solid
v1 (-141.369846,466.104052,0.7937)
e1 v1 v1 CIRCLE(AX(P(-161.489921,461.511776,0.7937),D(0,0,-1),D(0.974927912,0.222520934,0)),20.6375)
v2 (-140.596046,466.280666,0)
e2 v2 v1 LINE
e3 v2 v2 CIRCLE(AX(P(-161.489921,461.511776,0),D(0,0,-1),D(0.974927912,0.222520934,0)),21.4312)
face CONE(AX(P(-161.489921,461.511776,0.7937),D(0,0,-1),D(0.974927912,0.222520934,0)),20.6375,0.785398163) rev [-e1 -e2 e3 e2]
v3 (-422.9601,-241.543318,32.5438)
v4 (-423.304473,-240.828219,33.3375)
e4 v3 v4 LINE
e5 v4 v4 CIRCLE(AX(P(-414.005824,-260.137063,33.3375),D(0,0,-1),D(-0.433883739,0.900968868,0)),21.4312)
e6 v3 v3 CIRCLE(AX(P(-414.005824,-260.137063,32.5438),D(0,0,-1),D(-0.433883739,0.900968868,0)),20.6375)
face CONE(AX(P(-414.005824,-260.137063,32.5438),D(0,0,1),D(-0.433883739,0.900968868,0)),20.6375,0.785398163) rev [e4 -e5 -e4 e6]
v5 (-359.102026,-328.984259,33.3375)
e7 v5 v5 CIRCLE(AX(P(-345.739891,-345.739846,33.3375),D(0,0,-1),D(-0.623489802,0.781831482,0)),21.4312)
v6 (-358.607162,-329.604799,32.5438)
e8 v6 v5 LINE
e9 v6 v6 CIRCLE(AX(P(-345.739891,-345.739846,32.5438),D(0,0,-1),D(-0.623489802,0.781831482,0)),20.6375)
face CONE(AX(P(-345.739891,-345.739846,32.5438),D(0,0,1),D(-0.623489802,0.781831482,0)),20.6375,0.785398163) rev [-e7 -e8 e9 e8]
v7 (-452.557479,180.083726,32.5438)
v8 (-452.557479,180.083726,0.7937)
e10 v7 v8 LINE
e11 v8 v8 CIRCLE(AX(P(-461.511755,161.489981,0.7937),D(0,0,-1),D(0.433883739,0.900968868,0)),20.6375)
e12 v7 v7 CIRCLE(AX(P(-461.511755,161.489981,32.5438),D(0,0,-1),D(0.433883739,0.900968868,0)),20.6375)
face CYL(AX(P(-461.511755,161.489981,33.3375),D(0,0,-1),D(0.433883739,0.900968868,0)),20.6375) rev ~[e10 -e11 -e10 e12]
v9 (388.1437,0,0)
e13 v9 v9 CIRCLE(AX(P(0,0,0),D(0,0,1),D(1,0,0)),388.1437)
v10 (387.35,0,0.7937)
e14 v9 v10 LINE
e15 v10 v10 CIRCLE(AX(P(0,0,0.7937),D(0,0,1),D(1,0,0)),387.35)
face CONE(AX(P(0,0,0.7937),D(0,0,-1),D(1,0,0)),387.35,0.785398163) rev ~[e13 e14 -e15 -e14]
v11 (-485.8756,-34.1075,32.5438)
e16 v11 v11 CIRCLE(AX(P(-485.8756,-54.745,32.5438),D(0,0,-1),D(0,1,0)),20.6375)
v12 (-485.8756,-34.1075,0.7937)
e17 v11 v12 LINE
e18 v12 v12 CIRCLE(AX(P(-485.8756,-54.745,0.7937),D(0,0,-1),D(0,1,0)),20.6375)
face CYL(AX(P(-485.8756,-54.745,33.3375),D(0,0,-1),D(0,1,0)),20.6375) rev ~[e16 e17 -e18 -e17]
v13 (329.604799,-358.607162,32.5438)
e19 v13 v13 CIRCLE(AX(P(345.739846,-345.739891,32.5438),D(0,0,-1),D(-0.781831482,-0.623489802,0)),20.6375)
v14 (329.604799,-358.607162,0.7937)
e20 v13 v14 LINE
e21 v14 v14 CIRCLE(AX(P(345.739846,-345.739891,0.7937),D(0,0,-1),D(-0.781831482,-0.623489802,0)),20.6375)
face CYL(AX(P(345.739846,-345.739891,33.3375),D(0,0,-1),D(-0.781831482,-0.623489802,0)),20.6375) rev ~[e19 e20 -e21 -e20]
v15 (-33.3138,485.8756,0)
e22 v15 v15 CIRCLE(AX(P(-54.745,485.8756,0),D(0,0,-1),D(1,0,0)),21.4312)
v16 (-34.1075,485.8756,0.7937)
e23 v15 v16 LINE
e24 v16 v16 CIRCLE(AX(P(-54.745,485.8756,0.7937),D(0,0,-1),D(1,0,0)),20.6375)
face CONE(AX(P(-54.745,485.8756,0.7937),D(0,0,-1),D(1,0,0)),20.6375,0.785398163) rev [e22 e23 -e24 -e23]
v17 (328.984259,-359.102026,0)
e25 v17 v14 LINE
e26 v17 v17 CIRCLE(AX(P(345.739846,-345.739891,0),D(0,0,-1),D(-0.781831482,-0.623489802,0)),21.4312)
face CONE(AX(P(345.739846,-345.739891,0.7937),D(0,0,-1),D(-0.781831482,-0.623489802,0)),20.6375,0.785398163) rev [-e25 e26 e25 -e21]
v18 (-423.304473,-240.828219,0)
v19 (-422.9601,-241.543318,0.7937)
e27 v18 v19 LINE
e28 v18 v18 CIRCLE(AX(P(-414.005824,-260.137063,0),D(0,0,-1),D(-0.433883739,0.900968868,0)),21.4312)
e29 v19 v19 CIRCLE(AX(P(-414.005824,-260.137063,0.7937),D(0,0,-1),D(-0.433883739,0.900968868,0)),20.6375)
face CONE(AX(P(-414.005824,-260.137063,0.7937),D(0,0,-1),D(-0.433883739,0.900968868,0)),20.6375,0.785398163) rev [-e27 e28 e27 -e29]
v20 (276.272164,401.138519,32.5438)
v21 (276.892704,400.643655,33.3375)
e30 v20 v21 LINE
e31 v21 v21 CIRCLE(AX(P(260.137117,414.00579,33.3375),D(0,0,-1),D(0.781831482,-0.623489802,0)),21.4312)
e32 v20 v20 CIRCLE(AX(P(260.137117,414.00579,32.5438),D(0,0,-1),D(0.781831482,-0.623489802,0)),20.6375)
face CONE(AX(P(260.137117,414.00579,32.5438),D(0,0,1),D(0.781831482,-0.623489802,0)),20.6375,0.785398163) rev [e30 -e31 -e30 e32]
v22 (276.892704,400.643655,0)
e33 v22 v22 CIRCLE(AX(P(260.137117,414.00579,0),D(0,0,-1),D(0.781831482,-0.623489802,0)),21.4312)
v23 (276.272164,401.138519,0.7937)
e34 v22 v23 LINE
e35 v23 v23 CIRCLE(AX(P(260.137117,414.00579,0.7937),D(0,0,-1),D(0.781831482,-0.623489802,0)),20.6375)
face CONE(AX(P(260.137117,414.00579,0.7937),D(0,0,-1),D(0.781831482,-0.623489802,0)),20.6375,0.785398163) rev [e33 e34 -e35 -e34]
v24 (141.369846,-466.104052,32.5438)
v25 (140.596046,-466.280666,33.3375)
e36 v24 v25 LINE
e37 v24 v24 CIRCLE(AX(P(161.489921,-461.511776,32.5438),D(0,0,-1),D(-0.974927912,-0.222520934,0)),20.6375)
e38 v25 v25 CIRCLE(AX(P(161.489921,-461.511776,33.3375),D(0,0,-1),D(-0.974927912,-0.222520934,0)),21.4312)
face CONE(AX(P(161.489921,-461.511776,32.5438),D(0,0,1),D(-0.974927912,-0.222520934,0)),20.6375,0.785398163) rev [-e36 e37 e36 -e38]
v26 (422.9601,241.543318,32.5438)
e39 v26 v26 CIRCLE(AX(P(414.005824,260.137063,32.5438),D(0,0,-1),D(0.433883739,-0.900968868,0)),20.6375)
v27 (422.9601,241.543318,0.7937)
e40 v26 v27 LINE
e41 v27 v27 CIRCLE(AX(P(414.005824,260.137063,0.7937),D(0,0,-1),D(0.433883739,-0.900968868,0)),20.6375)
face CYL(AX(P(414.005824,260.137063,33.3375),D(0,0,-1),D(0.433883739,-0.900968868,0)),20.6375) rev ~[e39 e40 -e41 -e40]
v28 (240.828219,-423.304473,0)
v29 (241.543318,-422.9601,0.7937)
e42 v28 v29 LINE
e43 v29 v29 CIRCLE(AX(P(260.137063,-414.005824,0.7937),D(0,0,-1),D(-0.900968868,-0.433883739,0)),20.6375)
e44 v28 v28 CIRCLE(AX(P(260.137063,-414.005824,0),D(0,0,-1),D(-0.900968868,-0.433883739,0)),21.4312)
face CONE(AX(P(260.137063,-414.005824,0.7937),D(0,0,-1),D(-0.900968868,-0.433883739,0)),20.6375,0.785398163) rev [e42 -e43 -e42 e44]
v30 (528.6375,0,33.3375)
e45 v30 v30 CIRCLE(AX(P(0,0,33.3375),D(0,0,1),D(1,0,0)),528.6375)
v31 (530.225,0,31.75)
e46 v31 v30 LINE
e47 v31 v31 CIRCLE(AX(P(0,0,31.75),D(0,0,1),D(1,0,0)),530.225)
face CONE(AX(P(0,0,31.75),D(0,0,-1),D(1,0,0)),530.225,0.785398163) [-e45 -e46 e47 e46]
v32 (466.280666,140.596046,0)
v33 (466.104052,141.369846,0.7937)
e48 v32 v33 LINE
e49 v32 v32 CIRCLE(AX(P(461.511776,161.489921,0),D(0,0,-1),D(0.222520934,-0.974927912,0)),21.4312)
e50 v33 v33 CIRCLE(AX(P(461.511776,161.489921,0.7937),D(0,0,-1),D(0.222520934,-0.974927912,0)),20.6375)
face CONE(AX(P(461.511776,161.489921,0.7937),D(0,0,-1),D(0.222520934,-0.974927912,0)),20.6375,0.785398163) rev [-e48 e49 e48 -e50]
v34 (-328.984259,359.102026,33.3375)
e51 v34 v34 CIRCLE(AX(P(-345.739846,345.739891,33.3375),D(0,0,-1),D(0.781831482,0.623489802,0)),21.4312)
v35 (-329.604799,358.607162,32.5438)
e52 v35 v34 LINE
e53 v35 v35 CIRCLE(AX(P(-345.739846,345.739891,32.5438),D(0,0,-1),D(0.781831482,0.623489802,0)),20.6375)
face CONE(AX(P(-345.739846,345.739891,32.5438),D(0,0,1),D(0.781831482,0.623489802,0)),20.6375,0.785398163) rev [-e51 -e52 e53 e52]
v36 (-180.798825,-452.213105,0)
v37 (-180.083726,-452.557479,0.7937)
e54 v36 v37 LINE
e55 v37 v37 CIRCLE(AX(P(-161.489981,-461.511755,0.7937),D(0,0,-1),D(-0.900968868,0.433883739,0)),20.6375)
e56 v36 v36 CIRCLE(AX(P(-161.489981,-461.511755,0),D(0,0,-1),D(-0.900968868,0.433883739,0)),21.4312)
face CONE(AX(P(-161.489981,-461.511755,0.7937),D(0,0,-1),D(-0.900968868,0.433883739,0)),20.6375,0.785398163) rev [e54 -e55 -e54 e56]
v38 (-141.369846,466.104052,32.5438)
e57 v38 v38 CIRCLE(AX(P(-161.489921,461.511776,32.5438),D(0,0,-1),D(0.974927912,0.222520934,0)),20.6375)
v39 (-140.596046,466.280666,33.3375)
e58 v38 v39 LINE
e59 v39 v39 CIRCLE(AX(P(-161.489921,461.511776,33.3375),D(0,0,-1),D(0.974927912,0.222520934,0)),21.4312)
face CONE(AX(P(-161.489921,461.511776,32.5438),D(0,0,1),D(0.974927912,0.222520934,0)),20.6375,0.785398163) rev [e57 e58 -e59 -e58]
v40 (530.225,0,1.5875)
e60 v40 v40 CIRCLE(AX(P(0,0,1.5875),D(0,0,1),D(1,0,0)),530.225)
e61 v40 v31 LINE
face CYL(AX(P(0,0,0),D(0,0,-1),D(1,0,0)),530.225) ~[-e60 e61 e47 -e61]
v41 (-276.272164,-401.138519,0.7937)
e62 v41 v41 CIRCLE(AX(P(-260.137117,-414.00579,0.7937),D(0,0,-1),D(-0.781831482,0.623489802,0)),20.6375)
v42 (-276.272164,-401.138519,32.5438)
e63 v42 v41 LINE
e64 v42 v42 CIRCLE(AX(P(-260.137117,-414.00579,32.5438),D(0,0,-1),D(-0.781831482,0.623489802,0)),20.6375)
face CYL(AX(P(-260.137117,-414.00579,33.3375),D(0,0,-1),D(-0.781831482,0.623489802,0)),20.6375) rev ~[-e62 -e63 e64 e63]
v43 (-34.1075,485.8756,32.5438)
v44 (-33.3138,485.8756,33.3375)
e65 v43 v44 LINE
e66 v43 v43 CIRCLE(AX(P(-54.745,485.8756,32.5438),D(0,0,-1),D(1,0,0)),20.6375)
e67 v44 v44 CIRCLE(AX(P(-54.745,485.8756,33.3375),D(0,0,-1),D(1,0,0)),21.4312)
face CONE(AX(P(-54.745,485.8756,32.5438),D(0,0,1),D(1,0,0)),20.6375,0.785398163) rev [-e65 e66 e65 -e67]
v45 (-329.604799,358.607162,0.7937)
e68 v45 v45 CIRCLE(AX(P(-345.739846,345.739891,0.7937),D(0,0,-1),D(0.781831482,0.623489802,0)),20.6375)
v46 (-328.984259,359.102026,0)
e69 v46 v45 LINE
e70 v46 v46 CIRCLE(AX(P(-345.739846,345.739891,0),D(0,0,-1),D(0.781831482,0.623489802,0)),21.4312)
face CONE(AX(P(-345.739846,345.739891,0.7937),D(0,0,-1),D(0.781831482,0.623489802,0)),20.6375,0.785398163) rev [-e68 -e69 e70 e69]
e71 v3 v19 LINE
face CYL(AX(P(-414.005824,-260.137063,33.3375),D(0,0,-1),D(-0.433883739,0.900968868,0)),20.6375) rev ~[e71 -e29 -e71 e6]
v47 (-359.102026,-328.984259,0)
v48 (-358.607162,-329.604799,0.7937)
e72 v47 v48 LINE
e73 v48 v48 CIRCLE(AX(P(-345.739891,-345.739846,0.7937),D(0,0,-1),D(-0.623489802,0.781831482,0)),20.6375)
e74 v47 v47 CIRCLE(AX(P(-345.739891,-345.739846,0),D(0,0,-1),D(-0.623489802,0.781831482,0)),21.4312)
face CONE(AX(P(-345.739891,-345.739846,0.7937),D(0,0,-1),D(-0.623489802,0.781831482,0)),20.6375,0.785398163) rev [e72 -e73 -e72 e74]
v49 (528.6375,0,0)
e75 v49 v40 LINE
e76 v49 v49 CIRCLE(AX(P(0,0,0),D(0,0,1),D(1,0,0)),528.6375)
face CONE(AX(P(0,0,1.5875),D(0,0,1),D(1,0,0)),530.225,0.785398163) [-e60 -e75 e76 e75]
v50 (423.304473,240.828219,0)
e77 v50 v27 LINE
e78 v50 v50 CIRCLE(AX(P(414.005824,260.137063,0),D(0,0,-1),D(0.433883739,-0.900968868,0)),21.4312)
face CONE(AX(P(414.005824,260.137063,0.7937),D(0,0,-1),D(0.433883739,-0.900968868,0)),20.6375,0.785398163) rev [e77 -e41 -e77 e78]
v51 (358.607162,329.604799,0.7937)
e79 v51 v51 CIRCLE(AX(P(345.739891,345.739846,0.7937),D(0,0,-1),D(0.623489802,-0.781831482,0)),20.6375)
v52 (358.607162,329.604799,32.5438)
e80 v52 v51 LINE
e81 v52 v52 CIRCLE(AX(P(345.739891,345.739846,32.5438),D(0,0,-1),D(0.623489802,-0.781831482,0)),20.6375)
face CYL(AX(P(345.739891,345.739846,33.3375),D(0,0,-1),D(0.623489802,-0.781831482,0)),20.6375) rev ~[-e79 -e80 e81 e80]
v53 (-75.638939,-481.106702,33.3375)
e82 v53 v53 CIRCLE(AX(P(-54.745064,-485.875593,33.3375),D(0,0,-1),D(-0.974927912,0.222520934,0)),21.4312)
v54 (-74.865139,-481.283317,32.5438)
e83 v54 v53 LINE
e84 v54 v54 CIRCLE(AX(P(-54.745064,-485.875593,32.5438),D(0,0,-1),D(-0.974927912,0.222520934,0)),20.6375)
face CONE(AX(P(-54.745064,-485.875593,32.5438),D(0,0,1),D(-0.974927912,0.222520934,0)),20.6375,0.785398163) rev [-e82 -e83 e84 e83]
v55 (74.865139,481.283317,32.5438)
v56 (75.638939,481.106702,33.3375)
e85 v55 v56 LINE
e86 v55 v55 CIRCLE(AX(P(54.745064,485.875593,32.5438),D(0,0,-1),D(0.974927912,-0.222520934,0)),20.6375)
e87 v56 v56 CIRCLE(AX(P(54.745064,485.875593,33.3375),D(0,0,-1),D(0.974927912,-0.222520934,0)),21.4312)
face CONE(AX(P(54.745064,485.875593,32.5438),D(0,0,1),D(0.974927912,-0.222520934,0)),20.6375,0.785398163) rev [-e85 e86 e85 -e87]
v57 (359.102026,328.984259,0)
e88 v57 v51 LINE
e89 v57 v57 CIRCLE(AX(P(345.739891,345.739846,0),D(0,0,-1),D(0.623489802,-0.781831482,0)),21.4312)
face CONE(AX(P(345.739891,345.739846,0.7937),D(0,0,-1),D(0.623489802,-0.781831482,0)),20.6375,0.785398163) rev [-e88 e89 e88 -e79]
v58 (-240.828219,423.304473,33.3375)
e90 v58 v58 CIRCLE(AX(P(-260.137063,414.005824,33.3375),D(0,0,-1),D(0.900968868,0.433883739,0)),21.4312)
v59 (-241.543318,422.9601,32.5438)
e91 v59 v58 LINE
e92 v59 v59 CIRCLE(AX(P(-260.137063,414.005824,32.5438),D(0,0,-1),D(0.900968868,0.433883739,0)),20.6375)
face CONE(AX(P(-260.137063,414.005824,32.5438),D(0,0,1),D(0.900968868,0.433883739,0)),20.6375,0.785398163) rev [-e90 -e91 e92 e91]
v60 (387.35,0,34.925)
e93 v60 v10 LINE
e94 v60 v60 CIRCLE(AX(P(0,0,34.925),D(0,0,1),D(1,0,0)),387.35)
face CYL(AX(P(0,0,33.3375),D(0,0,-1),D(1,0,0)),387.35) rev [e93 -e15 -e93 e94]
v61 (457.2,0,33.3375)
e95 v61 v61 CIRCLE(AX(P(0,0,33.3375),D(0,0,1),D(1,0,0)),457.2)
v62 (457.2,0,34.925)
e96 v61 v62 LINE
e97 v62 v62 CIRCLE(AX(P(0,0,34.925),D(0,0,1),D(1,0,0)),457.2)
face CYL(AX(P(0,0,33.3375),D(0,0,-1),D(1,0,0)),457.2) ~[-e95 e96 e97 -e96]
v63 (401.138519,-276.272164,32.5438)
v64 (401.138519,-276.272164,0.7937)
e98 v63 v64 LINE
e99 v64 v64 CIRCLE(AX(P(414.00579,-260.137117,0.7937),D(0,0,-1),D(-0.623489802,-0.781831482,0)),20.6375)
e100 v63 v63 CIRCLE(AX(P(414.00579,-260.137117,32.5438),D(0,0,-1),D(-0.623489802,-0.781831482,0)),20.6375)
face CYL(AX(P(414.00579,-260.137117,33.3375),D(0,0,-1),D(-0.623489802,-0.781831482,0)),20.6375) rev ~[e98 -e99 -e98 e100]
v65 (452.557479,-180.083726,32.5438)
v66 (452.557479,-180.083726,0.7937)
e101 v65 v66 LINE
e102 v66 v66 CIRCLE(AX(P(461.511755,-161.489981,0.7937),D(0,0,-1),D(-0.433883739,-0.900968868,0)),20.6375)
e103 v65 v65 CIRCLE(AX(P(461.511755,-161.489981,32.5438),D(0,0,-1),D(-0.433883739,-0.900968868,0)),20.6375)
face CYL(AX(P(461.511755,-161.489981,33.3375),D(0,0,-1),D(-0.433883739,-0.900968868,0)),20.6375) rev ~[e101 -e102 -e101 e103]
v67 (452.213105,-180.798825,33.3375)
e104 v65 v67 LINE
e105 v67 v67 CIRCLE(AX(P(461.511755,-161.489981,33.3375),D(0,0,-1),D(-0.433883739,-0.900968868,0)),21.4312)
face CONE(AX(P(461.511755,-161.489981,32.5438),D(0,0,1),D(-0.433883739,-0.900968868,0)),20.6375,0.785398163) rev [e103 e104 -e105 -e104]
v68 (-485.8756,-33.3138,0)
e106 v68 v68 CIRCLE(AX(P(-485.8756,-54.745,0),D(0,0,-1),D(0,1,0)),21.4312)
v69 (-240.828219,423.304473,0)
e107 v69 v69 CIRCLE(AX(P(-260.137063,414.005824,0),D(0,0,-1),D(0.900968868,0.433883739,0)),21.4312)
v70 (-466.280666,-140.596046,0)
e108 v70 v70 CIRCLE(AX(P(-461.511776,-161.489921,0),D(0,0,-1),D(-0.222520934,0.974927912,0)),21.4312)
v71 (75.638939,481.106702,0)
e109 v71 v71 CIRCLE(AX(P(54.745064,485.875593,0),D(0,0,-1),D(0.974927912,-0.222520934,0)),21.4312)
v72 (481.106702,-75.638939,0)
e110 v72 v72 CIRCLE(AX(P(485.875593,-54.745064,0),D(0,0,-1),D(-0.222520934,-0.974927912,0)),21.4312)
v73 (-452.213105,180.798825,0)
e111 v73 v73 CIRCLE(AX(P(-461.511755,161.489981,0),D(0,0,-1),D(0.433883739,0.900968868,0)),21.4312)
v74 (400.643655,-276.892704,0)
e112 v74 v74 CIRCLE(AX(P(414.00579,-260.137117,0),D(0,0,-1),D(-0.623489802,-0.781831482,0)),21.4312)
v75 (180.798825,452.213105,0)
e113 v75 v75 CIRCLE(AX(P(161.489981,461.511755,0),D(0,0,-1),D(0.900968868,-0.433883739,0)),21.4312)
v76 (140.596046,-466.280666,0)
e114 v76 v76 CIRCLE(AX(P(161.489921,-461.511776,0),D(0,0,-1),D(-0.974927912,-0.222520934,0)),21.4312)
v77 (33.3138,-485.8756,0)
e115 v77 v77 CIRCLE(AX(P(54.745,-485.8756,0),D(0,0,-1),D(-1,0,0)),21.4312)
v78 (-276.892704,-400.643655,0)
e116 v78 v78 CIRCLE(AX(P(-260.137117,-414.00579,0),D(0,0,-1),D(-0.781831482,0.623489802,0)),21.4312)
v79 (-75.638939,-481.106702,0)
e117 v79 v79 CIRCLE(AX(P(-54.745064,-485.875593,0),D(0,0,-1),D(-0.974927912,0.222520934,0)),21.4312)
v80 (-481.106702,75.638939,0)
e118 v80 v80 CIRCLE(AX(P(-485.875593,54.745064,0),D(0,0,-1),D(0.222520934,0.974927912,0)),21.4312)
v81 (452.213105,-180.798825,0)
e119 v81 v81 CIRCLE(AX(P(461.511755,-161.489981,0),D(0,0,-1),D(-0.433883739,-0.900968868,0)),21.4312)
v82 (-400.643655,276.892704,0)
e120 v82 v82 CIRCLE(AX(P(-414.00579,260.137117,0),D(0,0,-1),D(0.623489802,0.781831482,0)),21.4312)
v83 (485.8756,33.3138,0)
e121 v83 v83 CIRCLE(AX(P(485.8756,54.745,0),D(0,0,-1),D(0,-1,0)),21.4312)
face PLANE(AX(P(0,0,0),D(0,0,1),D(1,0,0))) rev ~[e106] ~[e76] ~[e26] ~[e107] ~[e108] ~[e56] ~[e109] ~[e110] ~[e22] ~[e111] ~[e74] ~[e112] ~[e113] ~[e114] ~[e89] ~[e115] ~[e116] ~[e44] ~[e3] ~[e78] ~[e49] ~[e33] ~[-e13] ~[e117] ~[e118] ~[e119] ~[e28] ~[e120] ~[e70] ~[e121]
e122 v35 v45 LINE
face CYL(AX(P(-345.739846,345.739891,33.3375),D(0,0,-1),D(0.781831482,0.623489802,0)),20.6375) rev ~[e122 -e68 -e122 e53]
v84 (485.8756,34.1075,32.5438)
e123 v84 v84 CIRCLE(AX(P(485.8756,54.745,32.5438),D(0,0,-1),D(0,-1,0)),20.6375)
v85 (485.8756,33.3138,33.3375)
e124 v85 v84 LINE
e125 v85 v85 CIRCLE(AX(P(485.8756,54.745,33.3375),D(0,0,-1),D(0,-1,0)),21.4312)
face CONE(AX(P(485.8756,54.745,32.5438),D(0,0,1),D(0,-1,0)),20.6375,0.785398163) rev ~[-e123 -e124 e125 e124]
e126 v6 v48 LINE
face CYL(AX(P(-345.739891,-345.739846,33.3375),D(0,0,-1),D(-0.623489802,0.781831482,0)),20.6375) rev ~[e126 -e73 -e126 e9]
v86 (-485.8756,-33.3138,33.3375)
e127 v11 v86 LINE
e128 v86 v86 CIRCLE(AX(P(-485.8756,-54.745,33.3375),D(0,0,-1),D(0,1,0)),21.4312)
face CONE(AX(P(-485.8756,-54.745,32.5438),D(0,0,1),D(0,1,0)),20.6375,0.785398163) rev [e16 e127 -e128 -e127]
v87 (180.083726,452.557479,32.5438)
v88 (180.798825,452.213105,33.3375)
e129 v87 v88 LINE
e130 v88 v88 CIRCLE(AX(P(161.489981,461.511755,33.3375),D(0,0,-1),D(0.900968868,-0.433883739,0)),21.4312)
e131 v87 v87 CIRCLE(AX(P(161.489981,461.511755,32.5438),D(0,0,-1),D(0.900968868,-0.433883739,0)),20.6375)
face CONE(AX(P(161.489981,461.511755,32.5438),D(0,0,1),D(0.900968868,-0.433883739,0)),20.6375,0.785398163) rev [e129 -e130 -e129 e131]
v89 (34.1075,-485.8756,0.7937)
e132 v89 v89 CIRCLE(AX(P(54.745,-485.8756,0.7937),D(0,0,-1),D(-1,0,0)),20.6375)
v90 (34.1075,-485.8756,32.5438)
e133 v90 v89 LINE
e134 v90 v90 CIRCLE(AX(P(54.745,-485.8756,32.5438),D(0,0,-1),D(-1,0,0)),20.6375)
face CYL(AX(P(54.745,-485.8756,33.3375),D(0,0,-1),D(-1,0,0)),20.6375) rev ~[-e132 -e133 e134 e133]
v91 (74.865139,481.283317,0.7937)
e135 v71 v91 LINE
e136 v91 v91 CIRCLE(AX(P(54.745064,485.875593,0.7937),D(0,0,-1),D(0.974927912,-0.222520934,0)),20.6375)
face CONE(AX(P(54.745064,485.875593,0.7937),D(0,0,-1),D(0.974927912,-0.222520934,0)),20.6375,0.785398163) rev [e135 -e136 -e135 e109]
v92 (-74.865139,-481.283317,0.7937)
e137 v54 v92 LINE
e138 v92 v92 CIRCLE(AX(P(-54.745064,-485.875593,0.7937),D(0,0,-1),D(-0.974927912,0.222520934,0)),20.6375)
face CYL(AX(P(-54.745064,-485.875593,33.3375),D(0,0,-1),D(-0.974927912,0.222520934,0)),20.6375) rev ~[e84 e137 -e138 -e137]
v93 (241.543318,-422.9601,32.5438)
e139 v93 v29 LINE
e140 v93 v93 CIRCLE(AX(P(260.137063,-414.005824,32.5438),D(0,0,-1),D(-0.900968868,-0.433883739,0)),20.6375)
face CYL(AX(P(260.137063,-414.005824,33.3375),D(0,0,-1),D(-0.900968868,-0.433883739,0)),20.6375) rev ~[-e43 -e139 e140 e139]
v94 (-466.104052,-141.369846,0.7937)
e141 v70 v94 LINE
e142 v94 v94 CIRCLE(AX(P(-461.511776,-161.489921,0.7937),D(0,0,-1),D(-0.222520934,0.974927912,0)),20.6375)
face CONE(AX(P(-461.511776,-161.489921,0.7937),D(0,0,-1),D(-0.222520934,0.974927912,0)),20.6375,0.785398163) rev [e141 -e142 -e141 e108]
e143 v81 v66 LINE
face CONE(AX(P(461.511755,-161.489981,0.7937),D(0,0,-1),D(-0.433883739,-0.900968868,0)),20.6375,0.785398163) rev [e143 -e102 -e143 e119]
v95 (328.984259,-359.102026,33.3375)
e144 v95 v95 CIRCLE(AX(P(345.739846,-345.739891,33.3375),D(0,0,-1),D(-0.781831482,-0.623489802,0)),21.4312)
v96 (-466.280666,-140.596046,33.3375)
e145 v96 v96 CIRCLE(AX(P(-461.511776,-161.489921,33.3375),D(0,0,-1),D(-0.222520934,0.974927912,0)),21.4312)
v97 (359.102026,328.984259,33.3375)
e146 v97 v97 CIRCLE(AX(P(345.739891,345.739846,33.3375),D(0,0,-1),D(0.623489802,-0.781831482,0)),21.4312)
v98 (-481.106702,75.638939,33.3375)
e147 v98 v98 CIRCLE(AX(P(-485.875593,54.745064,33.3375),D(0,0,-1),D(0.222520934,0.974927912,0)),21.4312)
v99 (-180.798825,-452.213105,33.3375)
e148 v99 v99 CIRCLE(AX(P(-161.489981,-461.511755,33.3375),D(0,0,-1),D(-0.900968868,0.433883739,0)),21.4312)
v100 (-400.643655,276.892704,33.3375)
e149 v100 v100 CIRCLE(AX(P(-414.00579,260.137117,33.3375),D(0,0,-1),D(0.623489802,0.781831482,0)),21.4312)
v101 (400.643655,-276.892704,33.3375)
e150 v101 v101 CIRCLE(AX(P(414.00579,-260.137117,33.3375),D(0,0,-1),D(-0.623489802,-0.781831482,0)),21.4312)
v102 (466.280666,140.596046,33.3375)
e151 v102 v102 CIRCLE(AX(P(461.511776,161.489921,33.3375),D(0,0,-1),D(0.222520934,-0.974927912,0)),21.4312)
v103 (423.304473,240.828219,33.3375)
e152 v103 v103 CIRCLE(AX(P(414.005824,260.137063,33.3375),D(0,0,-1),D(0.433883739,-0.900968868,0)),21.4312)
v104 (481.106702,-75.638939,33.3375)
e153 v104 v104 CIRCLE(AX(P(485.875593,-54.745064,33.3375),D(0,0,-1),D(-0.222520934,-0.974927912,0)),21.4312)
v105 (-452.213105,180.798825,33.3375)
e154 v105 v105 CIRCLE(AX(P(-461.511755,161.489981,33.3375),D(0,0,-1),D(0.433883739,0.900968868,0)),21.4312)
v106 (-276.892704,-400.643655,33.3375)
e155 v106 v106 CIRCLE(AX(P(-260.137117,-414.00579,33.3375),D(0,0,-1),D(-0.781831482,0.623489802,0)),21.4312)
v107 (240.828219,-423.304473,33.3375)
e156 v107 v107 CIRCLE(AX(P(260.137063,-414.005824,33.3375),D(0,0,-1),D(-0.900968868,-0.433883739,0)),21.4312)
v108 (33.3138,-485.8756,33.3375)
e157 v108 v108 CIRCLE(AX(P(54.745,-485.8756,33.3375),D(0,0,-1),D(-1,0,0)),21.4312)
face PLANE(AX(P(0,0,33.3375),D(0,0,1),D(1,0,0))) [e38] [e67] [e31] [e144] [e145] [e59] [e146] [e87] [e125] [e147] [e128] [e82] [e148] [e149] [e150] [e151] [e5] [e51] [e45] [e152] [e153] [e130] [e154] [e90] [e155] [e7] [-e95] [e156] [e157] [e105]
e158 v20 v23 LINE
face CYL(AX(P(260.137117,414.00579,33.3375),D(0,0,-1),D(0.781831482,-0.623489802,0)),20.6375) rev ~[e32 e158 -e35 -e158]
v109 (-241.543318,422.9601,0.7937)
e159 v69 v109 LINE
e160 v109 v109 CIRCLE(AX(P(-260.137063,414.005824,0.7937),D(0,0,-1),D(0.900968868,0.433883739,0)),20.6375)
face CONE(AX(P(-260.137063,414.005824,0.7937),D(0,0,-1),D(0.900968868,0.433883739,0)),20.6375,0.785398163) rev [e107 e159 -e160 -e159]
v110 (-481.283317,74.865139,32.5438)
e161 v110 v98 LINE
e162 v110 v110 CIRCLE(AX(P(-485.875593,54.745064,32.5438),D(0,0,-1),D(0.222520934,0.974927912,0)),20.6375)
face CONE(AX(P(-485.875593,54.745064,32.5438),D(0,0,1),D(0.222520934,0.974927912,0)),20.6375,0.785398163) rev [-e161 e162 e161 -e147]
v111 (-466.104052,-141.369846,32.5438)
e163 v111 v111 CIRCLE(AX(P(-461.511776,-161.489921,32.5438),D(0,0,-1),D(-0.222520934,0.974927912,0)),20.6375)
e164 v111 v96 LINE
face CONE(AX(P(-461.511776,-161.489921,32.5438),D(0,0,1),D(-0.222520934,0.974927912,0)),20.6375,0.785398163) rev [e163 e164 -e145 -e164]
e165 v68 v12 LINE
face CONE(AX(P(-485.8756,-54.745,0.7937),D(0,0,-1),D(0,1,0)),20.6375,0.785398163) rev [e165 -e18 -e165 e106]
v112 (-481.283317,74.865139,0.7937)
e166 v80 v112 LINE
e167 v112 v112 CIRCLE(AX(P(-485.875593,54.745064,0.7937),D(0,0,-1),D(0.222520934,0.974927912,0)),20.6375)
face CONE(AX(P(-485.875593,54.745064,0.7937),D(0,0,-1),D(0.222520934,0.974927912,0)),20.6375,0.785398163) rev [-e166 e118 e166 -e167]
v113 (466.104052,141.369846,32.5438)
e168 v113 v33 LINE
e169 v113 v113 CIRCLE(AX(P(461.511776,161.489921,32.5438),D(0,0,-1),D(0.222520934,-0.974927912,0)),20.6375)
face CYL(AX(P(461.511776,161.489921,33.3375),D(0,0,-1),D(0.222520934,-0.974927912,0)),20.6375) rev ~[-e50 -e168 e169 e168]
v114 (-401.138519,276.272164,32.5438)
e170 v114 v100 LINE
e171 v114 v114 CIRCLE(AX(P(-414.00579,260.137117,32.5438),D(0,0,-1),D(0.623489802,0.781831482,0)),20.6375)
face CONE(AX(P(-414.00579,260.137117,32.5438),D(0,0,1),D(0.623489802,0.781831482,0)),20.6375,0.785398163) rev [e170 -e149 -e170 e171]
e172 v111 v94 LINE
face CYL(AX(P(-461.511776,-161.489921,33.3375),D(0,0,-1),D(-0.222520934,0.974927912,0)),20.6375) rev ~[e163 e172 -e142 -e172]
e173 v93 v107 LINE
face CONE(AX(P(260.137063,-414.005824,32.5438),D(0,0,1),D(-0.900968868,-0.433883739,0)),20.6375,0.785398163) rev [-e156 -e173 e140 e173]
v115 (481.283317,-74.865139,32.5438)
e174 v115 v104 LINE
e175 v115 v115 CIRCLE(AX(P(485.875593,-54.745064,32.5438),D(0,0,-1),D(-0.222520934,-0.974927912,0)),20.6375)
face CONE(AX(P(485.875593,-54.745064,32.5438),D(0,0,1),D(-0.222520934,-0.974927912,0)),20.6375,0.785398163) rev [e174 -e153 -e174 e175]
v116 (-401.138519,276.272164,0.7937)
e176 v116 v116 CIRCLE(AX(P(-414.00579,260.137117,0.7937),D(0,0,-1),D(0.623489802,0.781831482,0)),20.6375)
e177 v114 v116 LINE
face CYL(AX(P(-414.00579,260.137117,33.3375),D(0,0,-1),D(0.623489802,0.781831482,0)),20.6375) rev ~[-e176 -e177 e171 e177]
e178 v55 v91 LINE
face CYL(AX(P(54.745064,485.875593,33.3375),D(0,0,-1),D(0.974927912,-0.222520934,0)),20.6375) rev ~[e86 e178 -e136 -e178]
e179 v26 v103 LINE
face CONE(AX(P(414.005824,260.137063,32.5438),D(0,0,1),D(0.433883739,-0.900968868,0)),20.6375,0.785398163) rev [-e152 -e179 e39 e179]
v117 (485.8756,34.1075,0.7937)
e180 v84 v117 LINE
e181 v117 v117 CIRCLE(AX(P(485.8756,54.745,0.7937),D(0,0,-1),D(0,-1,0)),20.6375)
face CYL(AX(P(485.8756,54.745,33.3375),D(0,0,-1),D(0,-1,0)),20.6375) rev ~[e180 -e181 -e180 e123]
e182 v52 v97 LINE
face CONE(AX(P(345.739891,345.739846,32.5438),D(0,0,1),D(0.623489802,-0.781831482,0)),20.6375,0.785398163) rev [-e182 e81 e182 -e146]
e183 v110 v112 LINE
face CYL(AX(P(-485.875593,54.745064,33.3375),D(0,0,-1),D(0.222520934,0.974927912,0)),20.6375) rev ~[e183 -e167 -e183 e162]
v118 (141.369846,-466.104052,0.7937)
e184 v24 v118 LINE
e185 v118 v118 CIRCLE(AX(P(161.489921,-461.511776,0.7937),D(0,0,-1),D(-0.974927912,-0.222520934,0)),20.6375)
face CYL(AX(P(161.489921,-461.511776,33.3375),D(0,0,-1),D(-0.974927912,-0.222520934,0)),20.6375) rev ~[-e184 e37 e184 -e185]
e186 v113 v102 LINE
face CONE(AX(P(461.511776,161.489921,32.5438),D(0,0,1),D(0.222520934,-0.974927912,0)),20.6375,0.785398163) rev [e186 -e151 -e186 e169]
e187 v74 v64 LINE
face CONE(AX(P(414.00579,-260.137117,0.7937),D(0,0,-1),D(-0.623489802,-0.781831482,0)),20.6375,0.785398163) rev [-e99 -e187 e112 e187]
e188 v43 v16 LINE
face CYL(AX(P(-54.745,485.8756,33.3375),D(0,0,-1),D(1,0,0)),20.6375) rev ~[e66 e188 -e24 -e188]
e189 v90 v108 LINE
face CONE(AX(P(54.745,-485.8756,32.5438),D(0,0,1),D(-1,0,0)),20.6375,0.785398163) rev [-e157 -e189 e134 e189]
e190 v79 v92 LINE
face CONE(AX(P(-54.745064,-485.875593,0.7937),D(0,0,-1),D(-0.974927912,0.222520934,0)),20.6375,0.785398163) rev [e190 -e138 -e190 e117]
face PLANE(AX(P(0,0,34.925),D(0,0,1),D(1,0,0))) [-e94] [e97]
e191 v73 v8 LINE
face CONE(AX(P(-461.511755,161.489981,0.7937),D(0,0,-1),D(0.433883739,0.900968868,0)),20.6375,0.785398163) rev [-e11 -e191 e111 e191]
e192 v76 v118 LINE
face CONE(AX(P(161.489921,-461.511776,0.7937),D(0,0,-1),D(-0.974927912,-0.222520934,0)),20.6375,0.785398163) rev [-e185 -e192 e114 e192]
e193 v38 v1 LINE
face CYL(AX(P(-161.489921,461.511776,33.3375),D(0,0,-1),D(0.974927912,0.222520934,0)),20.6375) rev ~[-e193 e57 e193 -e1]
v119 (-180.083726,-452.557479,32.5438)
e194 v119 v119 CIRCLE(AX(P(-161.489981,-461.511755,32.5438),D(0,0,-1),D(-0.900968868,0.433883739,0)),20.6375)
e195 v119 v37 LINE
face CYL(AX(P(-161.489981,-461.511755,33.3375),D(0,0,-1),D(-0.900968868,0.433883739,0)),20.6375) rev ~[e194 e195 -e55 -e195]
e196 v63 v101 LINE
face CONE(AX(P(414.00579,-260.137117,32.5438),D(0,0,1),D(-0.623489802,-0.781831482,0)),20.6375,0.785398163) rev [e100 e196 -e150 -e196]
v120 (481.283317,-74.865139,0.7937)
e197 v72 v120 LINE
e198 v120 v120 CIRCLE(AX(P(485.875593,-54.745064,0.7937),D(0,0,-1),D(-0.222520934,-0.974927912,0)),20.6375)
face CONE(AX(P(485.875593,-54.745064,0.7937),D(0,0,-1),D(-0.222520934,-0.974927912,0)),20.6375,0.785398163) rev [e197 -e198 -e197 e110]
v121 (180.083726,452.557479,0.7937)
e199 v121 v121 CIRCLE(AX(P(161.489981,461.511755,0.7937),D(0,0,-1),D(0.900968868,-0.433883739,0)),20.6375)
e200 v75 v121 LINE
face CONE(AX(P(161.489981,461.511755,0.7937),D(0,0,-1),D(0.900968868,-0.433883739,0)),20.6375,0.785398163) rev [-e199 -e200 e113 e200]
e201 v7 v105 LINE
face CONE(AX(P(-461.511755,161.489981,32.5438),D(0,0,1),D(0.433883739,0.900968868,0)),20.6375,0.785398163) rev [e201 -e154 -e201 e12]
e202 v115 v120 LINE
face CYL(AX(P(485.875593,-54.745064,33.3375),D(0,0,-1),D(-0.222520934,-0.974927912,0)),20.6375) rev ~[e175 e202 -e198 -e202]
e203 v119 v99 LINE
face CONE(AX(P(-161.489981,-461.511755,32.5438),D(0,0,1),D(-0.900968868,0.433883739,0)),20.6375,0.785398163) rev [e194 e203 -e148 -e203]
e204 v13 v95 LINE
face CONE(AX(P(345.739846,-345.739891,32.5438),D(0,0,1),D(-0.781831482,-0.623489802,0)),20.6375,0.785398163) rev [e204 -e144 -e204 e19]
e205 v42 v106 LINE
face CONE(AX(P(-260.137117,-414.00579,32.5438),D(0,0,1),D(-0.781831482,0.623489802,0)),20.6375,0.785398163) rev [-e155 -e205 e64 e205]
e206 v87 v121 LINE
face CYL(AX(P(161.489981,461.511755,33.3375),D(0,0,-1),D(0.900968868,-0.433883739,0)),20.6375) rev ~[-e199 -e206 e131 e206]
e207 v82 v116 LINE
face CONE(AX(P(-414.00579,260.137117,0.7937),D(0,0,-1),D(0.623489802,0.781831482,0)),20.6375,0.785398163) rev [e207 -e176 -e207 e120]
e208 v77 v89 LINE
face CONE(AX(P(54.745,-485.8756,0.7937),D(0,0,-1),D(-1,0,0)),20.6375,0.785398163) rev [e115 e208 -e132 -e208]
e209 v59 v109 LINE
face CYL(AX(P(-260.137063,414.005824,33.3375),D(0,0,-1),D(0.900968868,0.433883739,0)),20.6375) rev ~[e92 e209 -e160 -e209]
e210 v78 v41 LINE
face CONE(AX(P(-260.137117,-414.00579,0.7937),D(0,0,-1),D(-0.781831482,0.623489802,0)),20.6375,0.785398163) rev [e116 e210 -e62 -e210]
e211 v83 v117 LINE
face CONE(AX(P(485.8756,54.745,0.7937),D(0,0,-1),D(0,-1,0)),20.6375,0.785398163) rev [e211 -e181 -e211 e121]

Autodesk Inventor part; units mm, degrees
ref_plane "YZ Plane" through (0, 0, 0) normal (1, 0, 0) x (0, 1, 0)
ref_plane "XZ Plane" through (0, 0, 0) normal (0, 1, 0) x (-1, 0, 0)
ref_plane "XY Plane" through (0, 0, 0) normal (0, 0, 1) x (1, 0, 0)
sketch "Sketch1" plane through (0, 0, 0) normal (0, 0, 1) x (1, 0, 0)
  circle A0 centre (0, 0) radius 530.225
  circle A1 centre (0, 0) radius 387.35
  dimension "d0" = 1060.45
  dimension "d1" = 774.7
extrude "Extrusion1" add sketch "Sketch1" along normal blind 33.3375
sketch "Sketch2" plane through (0, 0, 33.3375) normal (0, 0, 1) x (1, 0, 0)
  line L0 (-485.8756, -54.745) -> (485.8756, 54.745)
  line L1 (-485.8756, -54.745) -> (492.0244, -54.745) construction
  point P0 (0, 0)
  point P1 (0, 0)
  dimension "d4" = 977.9
  dimension "d5" = 6.429
hole "Hole1" at (485.8756, 54.745, 33.3375) direction (0, 0, -1) diameter 41.275 end through all
chamfer "Chamfer1" distance 0.7937 angle 45 2 edges at (485.8756, 75.3825, 33.3375) (485.8756, 75.3825, 0)
pattern_circular "Circular Pattern1" count 28 over 360 about axis through (0, 0, -10) along (0, 0, 1) of "Hole1", "Chamfer1"
chamfer "Chamfer2" distance 1.5875 angle 45 2 edges at (-530.225, 0, 33.3375) (-530.225, 0, 0)
chamfer "Chamfer4" distance 0.7937 angle 45 1 edges at (-387.35, 0, 0)
sketch "Sketch4" plane through (0, 0, 33.3375) normal (0, 0, 1) x (1, 0, 0)
  circle A0 centre (0, 0) radius 387.35 projected
  circle A1 centre (0, 0) radius 457.2
  dimension "d31" = 914.4
extrude "Extrusion3" add sketch "Sketch4" along normal blind 1.5875
properties part number "A1-19027-500-01 32in CL150 RF flange" material "Steel, Mild"
